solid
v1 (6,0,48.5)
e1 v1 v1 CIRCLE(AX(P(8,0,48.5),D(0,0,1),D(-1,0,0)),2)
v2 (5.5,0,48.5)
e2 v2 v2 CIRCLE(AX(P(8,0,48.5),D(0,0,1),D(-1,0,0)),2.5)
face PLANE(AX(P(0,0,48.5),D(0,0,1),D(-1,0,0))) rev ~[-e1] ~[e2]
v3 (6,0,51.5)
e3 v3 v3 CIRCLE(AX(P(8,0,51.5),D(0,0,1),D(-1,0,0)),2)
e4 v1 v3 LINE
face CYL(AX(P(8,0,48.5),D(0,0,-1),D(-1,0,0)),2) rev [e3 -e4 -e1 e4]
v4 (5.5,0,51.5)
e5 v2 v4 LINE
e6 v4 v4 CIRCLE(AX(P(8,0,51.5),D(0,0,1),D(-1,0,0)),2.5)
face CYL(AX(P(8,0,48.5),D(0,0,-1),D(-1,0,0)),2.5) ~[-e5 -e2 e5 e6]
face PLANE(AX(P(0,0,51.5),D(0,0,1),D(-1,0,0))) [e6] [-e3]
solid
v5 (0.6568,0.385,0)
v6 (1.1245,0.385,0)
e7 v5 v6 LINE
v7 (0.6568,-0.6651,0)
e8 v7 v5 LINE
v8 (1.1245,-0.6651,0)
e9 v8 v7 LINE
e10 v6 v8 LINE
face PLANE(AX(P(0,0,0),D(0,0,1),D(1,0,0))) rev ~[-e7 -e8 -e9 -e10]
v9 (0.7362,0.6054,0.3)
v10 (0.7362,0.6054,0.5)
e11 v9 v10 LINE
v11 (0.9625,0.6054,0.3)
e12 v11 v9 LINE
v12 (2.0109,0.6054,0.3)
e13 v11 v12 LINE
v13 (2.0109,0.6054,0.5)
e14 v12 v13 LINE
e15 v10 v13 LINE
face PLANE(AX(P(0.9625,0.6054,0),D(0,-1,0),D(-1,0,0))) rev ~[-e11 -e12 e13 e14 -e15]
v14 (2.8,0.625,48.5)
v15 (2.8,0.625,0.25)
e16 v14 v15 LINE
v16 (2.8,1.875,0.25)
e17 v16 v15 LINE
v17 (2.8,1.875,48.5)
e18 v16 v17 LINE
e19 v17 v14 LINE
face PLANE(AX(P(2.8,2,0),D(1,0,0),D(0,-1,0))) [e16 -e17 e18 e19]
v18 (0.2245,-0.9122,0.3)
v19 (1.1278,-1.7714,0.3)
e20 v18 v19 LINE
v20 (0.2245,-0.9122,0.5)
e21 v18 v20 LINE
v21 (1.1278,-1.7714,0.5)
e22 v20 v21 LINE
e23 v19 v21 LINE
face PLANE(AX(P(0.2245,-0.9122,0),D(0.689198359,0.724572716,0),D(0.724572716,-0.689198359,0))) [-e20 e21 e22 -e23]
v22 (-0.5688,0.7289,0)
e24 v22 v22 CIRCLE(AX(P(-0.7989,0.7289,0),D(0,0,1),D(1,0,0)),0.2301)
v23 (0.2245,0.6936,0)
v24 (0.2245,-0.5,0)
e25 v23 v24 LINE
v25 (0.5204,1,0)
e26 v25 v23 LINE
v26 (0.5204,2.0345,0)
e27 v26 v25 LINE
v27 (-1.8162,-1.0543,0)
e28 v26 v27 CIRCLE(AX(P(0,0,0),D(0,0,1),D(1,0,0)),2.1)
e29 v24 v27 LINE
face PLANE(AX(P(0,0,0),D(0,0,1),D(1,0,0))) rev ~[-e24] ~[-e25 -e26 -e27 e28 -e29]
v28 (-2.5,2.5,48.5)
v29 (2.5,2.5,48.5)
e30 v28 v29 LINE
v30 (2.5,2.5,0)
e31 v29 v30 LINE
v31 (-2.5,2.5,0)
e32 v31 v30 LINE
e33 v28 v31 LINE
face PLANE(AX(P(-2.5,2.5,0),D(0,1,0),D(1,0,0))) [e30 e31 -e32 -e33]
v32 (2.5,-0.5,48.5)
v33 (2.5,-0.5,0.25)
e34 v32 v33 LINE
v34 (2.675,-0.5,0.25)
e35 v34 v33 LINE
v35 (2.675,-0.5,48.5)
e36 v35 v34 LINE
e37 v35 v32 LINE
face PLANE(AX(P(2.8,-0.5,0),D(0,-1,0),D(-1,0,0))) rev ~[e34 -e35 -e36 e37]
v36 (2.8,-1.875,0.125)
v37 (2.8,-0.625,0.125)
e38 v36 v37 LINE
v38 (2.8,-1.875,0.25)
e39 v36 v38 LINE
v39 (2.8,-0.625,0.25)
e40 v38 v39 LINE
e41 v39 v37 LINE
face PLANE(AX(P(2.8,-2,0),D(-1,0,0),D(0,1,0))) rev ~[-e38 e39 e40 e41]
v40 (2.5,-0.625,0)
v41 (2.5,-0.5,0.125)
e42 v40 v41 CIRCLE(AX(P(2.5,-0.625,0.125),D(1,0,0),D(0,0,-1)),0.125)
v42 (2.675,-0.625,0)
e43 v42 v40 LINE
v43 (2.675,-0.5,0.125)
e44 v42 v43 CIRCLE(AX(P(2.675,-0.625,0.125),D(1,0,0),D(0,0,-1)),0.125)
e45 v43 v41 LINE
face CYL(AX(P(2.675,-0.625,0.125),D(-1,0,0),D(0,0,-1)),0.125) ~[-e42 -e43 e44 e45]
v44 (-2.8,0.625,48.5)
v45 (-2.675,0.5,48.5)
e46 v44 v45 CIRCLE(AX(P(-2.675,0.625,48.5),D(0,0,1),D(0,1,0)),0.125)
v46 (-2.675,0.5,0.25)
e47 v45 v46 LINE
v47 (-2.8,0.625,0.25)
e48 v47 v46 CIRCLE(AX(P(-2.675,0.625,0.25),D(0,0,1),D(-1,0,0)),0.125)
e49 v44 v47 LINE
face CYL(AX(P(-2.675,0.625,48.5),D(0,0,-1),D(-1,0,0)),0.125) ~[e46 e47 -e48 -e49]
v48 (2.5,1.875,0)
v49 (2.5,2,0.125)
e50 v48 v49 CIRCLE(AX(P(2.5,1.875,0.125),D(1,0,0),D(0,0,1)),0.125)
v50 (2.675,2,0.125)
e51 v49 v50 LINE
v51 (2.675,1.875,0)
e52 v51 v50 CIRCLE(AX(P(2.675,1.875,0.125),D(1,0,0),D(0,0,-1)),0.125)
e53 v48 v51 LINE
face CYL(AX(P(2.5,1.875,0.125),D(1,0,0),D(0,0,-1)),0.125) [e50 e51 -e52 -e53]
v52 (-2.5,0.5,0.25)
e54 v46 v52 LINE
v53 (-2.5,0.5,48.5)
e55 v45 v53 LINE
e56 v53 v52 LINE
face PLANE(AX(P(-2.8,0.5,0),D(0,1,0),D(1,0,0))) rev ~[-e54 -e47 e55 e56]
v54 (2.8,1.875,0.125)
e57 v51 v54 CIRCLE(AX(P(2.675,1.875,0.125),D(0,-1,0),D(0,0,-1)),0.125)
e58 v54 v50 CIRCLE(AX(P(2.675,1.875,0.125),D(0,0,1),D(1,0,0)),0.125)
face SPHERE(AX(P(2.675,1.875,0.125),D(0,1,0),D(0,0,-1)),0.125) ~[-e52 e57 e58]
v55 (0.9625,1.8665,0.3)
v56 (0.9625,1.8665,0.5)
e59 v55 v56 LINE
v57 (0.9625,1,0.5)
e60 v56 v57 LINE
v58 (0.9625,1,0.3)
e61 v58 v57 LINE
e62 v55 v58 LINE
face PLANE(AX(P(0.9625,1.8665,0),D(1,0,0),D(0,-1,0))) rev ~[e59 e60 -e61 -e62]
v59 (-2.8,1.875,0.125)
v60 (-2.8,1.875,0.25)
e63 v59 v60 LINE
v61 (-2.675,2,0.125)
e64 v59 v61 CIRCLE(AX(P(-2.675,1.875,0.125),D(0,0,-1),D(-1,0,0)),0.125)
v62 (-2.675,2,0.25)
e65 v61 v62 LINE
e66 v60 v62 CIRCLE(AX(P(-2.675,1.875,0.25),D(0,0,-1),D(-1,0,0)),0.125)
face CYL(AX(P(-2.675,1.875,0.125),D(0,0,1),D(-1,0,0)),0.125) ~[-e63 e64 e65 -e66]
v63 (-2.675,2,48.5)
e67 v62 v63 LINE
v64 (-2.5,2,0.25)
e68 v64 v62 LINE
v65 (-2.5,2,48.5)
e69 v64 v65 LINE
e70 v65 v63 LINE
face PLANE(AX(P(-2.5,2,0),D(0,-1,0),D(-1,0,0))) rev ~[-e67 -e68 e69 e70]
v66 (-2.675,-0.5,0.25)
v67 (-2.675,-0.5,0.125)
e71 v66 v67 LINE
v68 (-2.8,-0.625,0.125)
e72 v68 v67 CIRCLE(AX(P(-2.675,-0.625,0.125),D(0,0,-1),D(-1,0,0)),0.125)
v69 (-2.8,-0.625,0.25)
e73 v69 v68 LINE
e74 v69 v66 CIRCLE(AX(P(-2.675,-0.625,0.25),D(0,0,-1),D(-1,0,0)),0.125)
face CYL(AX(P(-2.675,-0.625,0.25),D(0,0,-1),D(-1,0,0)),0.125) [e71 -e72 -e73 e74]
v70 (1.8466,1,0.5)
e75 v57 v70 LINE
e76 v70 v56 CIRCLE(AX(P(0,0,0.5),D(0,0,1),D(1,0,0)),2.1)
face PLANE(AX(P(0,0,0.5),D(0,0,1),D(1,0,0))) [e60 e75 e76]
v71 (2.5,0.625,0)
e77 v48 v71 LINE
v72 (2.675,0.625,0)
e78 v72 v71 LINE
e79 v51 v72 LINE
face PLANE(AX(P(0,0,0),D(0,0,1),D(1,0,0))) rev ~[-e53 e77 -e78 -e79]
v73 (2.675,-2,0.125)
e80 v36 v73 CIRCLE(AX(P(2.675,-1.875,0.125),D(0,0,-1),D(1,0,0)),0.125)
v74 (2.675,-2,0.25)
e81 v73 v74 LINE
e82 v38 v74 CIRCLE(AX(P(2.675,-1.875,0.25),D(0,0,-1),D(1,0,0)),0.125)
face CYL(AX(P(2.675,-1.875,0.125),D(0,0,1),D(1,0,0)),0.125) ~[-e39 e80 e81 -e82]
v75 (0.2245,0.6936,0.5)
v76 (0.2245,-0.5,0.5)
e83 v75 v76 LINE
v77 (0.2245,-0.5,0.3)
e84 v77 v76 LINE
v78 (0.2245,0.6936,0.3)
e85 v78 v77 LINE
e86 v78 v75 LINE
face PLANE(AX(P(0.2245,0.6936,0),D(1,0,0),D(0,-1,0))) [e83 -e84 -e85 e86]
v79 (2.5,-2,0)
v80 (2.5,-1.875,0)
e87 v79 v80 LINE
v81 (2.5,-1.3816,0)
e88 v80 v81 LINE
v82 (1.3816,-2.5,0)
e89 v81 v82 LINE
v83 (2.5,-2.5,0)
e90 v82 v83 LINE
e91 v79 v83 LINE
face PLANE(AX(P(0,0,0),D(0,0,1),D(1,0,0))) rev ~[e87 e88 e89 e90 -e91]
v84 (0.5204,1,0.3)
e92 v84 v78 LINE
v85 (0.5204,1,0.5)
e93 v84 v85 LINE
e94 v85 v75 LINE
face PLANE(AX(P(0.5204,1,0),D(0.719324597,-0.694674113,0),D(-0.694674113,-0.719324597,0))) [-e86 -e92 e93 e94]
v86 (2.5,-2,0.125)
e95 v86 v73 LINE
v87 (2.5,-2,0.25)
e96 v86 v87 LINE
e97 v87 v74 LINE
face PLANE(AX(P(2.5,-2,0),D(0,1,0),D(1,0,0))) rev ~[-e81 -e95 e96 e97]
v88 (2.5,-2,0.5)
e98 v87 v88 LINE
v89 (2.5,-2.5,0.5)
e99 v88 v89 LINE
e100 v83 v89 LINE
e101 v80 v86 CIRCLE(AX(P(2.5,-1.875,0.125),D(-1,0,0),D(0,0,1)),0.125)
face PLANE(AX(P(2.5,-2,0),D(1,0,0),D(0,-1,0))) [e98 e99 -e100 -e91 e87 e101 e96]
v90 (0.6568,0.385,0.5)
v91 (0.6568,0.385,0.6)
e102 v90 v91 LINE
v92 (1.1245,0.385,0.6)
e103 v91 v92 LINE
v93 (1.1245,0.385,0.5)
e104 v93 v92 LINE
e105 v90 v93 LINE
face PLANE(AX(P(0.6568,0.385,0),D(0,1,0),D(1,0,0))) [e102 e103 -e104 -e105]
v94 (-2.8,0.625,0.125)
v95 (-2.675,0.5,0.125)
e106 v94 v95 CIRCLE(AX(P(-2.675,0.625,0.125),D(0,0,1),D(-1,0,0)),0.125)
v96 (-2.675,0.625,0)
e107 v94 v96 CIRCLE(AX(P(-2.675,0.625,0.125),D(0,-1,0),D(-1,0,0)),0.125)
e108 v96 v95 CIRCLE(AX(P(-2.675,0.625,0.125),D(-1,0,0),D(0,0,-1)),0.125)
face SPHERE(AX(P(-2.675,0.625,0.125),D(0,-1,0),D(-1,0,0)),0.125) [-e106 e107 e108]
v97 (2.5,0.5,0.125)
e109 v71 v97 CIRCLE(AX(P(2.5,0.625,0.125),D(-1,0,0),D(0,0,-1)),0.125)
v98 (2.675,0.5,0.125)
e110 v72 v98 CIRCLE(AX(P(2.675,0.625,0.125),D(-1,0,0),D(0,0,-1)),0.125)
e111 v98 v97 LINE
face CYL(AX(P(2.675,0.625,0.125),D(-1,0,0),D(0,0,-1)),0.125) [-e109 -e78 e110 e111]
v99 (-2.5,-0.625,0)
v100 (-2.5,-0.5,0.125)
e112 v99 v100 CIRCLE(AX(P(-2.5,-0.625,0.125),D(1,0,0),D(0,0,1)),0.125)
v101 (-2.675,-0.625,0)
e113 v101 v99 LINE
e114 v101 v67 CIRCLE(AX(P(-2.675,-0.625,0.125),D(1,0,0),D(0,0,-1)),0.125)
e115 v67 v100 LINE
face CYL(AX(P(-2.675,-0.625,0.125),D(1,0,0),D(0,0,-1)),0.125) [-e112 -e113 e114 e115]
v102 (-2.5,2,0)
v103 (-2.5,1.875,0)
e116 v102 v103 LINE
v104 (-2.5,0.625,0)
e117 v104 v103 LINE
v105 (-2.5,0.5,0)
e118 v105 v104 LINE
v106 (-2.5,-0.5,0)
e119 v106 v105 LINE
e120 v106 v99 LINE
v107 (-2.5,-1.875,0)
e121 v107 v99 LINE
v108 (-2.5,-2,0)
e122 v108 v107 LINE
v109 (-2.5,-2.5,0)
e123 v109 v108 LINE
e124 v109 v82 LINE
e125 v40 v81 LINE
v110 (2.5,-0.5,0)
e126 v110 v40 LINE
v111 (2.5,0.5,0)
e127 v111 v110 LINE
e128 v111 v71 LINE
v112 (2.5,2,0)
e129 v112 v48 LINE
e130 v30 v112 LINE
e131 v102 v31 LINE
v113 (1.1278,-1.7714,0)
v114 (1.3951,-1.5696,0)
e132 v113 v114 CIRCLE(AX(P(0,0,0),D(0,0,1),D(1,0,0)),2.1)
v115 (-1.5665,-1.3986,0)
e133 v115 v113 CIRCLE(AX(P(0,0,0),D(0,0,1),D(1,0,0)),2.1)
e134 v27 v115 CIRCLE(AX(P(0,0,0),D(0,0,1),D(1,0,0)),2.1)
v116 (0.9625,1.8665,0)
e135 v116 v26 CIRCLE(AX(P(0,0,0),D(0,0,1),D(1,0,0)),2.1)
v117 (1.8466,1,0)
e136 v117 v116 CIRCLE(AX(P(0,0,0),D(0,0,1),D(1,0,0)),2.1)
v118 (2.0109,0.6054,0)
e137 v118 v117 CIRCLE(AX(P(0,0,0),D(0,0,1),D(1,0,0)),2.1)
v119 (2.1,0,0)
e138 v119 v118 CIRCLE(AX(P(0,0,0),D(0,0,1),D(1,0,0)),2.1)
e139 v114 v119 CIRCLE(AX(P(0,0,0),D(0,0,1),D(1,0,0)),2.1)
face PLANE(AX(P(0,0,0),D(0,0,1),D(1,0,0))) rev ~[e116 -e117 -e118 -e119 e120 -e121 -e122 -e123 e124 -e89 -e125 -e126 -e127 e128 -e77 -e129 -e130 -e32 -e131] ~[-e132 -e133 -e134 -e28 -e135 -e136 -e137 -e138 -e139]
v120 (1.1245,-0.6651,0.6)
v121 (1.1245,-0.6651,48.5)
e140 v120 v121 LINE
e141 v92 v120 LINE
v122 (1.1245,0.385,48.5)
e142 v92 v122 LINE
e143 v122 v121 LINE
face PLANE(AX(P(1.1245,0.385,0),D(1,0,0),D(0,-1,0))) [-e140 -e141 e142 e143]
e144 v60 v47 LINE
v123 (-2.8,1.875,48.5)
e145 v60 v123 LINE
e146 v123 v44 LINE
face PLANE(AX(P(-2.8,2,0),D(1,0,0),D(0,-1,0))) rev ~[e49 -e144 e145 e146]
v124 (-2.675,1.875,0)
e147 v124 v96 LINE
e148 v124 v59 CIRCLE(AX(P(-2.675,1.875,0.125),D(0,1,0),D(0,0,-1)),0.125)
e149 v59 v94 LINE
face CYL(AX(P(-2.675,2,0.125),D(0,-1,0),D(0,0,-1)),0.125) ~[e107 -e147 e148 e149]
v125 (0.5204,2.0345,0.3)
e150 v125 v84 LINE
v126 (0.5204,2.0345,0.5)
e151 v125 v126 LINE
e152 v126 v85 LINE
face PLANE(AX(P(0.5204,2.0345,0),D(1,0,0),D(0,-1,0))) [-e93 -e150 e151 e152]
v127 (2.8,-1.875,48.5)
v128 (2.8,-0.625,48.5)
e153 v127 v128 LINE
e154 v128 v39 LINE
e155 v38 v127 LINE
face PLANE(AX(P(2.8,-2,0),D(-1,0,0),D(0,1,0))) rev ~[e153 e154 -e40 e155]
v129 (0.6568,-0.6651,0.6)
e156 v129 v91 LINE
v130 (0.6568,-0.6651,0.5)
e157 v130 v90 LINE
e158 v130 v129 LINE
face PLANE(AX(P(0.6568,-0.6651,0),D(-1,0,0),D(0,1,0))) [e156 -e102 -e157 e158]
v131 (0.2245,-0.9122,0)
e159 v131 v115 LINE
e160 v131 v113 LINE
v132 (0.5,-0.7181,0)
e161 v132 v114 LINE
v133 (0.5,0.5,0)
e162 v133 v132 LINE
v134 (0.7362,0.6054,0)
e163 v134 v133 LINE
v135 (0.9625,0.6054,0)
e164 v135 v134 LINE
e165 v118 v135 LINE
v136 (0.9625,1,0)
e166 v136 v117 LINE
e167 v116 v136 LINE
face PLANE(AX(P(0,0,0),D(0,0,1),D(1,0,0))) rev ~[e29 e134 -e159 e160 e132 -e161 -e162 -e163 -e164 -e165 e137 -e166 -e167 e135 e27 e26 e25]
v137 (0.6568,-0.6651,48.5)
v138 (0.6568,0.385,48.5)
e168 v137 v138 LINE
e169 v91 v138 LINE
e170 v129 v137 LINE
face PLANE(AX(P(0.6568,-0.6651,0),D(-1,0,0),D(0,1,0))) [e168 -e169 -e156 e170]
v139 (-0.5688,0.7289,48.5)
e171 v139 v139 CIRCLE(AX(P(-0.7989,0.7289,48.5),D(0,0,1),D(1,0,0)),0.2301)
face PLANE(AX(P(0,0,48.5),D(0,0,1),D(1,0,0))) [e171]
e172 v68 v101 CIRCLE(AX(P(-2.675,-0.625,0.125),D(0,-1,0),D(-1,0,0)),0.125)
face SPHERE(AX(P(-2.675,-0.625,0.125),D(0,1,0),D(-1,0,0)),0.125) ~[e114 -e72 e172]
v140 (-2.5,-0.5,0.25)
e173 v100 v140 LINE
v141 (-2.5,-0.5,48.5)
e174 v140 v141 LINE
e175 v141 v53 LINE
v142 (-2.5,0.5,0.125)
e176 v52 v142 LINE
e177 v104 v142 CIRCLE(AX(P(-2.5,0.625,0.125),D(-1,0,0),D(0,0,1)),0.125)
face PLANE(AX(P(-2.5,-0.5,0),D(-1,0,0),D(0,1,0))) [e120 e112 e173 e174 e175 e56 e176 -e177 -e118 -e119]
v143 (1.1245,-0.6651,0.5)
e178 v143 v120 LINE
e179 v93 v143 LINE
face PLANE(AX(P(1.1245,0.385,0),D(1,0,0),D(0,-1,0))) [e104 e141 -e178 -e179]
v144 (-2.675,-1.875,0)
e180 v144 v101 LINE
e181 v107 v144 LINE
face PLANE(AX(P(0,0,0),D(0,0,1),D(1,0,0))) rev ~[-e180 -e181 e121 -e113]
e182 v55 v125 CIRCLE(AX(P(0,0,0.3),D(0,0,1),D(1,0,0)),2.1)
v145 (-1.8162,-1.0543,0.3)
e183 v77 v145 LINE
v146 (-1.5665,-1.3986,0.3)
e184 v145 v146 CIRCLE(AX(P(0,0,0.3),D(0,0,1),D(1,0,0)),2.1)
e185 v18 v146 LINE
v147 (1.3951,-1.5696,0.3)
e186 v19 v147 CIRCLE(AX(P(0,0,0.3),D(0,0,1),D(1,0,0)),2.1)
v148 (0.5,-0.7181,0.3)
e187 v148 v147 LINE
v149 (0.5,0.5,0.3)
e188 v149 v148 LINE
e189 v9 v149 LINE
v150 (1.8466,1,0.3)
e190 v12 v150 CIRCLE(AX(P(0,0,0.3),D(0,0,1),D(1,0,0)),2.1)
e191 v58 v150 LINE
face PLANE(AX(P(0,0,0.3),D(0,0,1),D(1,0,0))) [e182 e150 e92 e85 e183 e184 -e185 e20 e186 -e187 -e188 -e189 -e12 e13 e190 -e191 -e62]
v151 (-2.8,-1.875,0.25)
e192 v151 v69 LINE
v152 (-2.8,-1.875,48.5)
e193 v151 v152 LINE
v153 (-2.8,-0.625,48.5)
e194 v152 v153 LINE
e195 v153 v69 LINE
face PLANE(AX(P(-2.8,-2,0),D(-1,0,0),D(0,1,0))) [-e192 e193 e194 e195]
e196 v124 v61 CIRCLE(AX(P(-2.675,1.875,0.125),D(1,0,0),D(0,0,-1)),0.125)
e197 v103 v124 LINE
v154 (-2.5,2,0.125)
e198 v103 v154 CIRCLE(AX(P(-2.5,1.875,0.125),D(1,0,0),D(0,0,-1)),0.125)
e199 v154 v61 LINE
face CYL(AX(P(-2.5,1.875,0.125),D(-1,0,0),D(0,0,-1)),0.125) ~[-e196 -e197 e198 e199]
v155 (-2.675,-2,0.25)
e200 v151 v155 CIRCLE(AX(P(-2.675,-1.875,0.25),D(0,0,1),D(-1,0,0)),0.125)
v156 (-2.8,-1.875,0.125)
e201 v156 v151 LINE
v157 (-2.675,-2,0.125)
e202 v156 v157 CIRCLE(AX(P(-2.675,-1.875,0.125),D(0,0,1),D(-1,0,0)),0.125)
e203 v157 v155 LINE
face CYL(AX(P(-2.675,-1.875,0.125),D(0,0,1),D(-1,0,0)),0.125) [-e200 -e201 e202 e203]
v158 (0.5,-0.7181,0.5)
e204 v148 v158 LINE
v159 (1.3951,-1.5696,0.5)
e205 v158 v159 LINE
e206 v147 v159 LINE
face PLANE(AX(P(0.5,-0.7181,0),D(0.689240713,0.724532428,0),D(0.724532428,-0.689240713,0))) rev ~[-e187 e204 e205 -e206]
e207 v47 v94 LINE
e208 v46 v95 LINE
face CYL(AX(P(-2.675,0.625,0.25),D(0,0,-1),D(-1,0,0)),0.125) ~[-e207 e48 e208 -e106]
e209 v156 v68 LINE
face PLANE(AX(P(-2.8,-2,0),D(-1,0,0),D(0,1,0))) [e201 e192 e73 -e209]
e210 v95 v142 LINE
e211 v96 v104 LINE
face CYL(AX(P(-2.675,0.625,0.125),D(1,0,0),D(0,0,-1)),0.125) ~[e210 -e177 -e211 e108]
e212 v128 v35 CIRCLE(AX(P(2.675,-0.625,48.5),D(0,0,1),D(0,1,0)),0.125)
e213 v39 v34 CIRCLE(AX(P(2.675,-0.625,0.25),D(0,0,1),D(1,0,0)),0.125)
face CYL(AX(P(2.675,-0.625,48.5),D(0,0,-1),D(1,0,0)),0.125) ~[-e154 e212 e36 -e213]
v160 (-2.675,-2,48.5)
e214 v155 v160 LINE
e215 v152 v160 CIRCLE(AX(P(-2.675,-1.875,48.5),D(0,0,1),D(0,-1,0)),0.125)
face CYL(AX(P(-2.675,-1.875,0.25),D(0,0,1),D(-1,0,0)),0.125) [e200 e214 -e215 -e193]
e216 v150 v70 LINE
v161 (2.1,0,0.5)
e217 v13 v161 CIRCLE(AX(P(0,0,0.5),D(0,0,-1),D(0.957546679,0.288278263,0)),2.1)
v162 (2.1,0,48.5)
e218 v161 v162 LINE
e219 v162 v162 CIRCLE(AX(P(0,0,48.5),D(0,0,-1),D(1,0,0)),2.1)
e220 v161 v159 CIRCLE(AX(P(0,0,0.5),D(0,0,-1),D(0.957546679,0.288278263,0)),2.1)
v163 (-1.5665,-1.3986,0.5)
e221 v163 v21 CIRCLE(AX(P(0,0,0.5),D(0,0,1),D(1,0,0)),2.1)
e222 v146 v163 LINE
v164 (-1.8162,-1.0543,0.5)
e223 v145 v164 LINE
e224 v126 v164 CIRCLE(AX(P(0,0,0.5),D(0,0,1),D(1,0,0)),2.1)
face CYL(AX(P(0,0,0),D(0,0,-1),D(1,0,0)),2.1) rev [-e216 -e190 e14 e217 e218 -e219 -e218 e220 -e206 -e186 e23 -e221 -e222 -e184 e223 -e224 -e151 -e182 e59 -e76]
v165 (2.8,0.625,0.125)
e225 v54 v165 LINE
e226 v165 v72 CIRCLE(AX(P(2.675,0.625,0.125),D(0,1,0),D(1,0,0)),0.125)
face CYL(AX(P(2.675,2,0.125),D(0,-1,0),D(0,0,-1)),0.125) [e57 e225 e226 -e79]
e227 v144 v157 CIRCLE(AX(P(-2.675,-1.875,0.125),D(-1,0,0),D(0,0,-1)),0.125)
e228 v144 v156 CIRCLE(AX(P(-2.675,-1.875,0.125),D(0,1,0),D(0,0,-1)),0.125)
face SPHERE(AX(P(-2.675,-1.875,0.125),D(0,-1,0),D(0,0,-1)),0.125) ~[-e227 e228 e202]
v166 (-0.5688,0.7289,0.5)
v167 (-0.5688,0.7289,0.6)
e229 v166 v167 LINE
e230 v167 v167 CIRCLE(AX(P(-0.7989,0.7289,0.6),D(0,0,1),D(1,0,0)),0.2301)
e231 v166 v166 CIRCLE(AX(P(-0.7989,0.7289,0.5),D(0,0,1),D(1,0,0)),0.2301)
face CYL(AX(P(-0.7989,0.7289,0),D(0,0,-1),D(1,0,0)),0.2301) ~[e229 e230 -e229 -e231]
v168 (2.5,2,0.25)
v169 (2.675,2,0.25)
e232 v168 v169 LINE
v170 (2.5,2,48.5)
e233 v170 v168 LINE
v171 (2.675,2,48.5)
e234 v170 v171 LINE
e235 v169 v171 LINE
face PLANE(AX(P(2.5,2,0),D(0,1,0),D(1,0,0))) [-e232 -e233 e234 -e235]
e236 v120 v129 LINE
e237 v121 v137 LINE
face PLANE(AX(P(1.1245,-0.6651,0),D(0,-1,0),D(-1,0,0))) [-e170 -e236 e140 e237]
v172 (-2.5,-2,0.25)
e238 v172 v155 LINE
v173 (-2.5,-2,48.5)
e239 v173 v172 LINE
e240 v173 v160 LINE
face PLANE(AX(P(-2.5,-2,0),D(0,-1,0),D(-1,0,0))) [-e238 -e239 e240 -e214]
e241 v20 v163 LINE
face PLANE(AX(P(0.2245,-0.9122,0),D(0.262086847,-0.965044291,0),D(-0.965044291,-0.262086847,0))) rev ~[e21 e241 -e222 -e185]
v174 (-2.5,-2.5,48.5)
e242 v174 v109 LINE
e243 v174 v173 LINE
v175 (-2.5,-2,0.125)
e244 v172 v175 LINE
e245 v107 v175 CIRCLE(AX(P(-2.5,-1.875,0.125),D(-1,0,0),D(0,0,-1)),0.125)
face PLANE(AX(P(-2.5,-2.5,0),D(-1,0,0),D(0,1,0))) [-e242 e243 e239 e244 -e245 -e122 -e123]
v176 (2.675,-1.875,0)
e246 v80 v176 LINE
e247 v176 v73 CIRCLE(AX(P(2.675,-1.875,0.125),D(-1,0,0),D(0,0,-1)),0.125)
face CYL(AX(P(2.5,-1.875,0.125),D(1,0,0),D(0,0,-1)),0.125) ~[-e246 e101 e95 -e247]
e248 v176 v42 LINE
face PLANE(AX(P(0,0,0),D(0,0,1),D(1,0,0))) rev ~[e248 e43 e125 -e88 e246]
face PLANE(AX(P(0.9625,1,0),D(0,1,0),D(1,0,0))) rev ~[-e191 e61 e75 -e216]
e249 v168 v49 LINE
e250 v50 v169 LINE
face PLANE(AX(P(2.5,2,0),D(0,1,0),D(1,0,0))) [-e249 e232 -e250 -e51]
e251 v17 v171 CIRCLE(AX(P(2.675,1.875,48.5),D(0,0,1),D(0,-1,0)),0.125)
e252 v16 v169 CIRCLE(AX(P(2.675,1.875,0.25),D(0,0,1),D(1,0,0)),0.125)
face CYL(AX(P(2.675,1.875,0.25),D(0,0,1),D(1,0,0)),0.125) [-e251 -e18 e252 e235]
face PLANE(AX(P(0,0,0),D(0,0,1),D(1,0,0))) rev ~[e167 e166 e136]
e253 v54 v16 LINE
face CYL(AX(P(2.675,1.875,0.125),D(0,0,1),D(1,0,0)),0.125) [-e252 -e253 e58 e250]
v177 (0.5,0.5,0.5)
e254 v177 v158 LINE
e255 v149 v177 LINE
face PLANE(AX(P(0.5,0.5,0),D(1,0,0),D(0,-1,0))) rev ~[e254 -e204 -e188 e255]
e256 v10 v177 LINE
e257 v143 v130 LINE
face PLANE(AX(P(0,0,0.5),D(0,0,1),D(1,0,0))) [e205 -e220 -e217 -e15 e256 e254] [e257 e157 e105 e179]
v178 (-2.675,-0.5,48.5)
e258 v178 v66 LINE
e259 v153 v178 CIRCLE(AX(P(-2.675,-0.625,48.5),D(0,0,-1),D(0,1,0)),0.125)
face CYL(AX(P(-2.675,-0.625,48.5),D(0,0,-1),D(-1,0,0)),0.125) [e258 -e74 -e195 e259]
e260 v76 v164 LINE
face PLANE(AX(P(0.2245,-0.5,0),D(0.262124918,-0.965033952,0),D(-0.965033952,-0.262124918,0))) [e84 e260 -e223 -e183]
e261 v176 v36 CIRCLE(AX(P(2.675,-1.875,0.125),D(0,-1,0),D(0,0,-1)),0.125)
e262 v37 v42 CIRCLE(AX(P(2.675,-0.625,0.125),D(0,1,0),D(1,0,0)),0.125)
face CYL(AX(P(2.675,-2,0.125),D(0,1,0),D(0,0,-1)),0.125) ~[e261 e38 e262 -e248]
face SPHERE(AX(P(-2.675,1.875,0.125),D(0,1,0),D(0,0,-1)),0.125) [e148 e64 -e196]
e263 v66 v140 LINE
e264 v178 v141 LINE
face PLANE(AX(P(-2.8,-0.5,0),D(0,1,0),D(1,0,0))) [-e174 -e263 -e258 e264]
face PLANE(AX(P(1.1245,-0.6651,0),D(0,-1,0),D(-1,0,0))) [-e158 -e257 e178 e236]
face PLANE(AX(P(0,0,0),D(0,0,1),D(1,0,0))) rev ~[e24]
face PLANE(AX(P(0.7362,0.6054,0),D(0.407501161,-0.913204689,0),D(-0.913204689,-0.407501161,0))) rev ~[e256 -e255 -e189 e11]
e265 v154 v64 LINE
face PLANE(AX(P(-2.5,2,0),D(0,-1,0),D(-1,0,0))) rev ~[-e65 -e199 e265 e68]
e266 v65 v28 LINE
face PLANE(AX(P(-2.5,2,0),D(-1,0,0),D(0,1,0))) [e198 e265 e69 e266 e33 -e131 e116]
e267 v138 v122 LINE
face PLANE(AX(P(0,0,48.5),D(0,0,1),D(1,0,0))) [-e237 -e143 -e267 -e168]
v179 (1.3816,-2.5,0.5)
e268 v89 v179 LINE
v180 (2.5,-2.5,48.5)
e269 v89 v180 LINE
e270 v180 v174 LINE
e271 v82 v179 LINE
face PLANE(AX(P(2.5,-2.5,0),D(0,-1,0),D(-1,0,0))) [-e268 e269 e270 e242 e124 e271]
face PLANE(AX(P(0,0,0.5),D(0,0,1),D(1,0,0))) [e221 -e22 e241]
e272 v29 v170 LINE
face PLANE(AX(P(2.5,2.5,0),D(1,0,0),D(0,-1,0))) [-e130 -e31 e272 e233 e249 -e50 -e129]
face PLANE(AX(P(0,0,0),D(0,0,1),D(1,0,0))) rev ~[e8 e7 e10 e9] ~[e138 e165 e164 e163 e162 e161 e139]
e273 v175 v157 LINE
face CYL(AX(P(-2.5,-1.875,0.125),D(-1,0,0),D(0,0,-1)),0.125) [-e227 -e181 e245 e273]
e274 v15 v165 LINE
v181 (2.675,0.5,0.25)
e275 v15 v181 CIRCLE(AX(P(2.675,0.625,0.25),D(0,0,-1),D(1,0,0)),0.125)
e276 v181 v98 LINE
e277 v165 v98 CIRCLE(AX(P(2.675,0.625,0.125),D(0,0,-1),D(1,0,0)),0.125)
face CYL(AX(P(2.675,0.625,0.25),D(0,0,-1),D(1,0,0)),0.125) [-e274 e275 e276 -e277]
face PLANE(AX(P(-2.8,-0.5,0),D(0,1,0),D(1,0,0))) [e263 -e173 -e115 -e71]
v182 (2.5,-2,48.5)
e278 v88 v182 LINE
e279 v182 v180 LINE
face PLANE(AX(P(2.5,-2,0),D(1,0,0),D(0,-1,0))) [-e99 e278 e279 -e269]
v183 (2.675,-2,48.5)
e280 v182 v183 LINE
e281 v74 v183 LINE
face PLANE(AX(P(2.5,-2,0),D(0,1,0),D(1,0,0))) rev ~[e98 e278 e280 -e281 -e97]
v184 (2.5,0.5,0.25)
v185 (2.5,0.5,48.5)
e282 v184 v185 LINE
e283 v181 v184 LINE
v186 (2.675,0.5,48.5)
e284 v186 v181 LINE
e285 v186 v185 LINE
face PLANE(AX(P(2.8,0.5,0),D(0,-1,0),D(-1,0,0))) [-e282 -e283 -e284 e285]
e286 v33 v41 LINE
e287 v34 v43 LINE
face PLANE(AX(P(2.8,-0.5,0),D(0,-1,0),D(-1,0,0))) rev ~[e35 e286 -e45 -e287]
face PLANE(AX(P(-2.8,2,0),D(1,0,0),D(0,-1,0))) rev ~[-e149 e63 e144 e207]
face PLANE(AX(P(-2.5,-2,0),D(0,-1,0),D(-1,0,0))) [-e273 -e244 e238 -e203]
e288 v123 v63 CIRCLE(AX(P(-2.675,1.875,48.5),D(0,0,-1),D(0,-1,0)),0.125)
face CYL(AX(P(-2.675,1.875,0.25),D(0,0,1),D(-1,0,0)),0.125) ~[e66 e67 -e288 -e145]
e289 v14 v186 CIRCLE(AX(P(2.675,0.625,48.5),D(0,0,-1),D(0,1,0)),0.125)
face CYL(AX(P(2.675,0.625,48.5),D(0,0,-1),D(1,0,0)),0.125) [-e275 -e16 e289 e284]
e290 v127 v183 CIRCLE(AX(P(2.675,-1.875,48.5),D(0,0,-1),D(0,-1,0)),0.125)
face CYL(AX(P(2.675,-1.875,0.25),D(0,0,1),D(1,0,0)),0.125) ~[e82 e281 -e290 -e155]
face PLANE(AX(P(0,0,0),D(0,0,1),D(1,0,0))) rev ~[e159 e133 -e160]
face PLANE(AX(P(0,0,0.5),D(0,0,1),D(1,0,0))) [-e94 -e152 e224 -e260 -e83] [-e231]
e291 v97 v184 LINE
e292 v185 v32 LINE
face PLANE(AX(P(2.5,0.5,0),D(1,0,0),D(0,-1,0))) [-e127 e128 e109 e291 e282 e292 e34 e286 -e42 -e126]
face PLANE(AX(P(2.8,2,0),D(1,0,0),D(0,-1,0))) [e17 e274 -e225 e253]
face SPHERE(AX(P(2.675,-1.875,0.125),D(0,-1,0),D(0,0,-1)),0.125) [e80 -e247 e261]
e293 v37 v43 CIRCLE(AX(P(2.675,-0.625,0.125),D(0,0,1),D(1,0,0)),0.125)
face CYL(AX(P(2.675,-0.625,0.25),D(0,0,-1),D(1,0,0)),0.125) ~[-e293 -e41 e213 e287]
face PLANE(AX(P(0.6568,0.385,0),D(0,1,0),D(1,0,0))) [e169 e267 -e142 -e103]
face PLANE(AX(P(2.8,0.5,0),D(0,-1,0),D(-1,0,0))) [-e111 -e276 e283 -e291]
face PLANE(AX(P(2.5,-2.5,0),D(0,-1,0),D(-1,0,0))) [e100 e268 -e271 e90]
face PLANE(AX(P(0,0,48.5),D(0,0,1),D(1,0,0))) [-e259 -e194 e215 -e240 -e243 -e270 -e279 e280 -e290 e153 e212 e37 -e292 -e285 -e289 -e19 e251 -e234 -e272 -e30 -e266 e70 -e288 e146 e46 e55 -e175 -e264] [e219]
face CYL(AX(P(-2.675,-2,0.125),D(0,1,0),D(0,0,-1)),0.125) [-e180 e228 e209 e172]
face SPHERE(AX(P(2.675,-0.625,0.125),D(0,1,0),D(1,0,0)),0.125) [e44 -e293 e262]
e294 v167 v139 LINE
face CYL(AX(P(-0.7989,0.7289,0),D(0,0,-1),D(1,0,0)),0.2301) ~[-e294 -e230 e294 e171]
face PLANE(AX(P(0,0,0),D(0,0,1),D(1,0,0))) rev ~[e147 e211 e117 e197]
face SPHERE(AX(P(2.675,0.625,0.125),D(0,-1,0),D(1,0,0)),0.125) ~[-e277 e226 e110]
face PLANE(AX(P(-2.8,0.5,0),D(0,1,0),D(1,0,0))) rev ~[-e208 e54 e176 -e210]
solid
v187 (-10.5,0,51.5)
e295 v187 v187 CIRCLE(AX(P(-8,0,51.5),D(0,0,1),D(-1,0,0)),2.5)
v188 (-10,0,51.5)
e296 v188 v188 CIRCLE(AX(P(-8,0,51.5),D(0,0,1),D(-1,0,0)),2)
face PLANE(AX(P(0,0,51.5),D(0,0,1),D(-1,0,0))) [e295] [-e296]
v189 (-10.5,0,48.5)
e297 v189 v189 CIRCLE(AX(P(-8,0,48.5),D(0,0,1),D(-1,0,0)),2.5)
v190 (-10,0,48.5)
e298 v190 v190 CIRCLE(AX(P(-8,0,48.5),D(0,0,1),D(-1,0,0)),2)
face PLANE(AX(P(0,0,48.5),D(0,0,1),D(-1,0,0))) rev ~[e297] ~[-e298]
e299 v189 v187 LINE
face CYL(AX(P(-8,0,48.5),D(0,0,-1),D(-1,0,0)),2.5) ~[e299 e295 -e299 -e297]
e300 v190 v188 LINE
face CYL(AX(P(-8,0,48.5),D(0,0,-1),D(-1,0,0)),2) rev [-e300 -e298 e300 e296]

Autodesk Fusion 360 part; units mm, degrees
sketch "スケッチ1" plane through (0, 0, 0) normal (0, 0, 1) x (1, 0, 0)
  line L0 (13.25, -8.75) -> (-13.25, -8.75)
  line L1 (-13.25, -8.75) -> (-13.25, 8.75)
  line L2 (-13.25, 8.75) -> (13.25, 8.75)
  line L3 (13.25, 8.75) -> (13.25, -8.75)
  line L4 (13.25, -8.75) -> (-13.25, 8.75) construction
  line L5 (-13.25, -8.75) -> (13.25, 8.75) construction
  dimension "d1" = 26.5
  dimension "d2" = 17.5
extrude "押し出し1" add sketch "スケッチ1" along normal blind 48.5 makes body 1
sketch "スケッチ2" plane through (0, 0, 48.5) normal (0, 0, 1) x (-1, 0, 0)
  line L0 (-13.25, -8.75) -> (13.25, -8.75)
  line L1 (13.25, -8.75) -> (13.25, 8.75)
  line L2 (13.25, 8.75) -> (-13.25, 8.75)
  line L3 (-13.25, 8.75) -> (-13.25, -8.75)
  circle A0 centre (-8, 0) radius 2.5
  circle A1 centre (-8, 0) radius 2
  circle A2 centre (8, 0) radius 2
  circle A3 centre (8, 0) radius 2.5
  dimension "d5" = 5
extrude "押し出し2" add sketch "スケッチ2" along normal blind 3 separate body contours A0 | A3 makes body 2 at (5.5031, 0.1246, 50.5) makes body 3 at (-10.4969, 0.1246, 50.5)

Autodesk Fusion 360 part; units mm, degrees
sketch "スケッチ1" plane through (0, 0, 0) normal (0, 0, 1) x (1, 0, 0)
  line L0 (2.5, -2.5) -> (-2.5, -2.5)
  line L1 (-2.5, -2.5) -> (-2.5, 2.5)
  line L2 (-2.5, 2.5) -> (2.5, 2.5)
  line L3 (2.5, 2.5) -> (2.5, -2.5)
  circle A0 centre (0, 0) radius 2.1
  line L4 (0.5204, 2.0345) -> (0.5204, 1)
  line L5 (0.5204, 1) -> (0.2245, 0.6936)
  line L6 (0.2245, 0.6936) -> (0.2245, -0.5)
  line L7 (0.2245, -0.5) -> (-1.8162, -1.0543)
  line L8 (0.2245, -0.9122) -> (-1.5665, -1.3986)
  line L9 (0.9625, 1.8665) -> (0.9625, 1)
  line L10 (0.9625, 1) -> (1.8466, 1)
  line L11 (0.9625, 0.6054) -> (2.0109, 0.6054)
  line L12 (0.9625, 0.6054) -> (0.7362, 0.6054)
  line L13 (0.7362, 0.6054) -> (0.5, 0.5)
  line L14 (0.5, 0.5) -> (0.5, -0.7181)
  line L15 (0.5, -0.7181) -> (1.3951, -1.5696)
  line L16 (0.2245, -0.9122) -> (1.1278, -1.7714)
  circle A1 centre (-0.7989, 0.7289) radius 0.2301
  line L17 (0.6568, 0.385) -> (1.1245, 0.385)
  line L18 (1.1245, 0.385) -> (1.1245, -0.6651)
  line L19 (1.1245, -0.6651) -> (0.6568, -0.6651)
  line L20 (0.6568, -0.6651) -> (0.6568, 0.385)
  line L21 (-2.5, 2) -> (-2.8, 2)
  line L22 (-2.8, 2) -> (-2.8, 0.5)
  line L23 (-2.8, 0.5) -> (-2.5, 0.5)
  line L24 (-2.5, -2) -> (-2.8, -2)
  line L25 (-2.8, -0.5) -> (-2.5, -0.5)
  line L26 (-2.8, -2) -> (-2.8, -0.5)
  line L27 (2.5, 2) -> (2.8, 2)
  line L28 (2.8, 0.5) -> (2.5, 0.5)
  line L29 (2.8, 2) -> (2.8, 0.5)
  line L30 (2.5, -2) -> (2.8, -2)
  line L31 (2.8, -0.5) -> (2.5, -0.5)
  line L32 (2.8, -2) -> (2.8, -0.5)
  line L33 (2.5, -1.3816) -> (1.3816, -2.5)
extrude "押し出し1" add sketch "スケッチ1" along normal blind 1 contours L0 L1 L2 L3 L33
extrude "押し出し2" add sketch "スケッチ1" along normal blind 0.5 contours L0 L3 L33 | A0 L11 L12 L13 L14 L15 | A0 L9 L10 | A0 L8 L16 | A0 L4 L5 L6 L7
extrude "押し出し3" add sketch "スケッチ1" along normal blind 0.6 contours A1 | L17 L18 L19 L20
extrude "押し出し4" add sketch "スケッチ1" along normal blind 0.3 contours A0 L4 L5 L6 L7 L8 L9 L10 L11 L12 L13 L14 L15 L16
extrude "押し出し5" add sketch "スケッチ1" along normal blind 0.25 contours L3 L30 L31 L32 | L1 L24 L25 L26 | L3 L27 L28 L29 | L1 L21 L22 L23
fillet "フィレット1" radius 0.125 8 edges at (2.8, -1.25, 0.25) (2.8, -1.25, 0) (2.8, 1.25, 0.25) (2.8, 1.25, 0) (-2.8, -1.25, 0.25) (-2.8, -1.25, 0) (-2.8, 1.25, 0) (-2.8, 1.25, 0.25)
fillet "フィレット2" radius 0.125 24 edges at (-2.5875, -2, 0) (-2.8, -2, 0.125) (-2.5875, -2, 0.25) (-2.5875, -0.5, 0.25) (-2.8, -0.5, 0.125) (-2.5875, -0.5, 0) (-2.5875, 0.5, 0) (-2.8, 0.5, 0.125) (-2.5875, 0.5, 0.25) (-2.5875, 2, 0.25) (-2.8, 2, 0.125) (-2.5875, 2, 0) (2.5875, 0.5, 0.25) (2.8, 0.5, 0.125) (2.5875, 0.5, 0) (2.5875, -0.5, 0) (2.8, -0.5, 0.125) (2.5875, -0.5, 0.25) (2.5875, -2, 0.25) (2.8, -2, 0.125) (2.5875, -2, 0) (2.5875, 2, 0) (2.8, 2, 0.125) (2.5875, 2, 0.25)
